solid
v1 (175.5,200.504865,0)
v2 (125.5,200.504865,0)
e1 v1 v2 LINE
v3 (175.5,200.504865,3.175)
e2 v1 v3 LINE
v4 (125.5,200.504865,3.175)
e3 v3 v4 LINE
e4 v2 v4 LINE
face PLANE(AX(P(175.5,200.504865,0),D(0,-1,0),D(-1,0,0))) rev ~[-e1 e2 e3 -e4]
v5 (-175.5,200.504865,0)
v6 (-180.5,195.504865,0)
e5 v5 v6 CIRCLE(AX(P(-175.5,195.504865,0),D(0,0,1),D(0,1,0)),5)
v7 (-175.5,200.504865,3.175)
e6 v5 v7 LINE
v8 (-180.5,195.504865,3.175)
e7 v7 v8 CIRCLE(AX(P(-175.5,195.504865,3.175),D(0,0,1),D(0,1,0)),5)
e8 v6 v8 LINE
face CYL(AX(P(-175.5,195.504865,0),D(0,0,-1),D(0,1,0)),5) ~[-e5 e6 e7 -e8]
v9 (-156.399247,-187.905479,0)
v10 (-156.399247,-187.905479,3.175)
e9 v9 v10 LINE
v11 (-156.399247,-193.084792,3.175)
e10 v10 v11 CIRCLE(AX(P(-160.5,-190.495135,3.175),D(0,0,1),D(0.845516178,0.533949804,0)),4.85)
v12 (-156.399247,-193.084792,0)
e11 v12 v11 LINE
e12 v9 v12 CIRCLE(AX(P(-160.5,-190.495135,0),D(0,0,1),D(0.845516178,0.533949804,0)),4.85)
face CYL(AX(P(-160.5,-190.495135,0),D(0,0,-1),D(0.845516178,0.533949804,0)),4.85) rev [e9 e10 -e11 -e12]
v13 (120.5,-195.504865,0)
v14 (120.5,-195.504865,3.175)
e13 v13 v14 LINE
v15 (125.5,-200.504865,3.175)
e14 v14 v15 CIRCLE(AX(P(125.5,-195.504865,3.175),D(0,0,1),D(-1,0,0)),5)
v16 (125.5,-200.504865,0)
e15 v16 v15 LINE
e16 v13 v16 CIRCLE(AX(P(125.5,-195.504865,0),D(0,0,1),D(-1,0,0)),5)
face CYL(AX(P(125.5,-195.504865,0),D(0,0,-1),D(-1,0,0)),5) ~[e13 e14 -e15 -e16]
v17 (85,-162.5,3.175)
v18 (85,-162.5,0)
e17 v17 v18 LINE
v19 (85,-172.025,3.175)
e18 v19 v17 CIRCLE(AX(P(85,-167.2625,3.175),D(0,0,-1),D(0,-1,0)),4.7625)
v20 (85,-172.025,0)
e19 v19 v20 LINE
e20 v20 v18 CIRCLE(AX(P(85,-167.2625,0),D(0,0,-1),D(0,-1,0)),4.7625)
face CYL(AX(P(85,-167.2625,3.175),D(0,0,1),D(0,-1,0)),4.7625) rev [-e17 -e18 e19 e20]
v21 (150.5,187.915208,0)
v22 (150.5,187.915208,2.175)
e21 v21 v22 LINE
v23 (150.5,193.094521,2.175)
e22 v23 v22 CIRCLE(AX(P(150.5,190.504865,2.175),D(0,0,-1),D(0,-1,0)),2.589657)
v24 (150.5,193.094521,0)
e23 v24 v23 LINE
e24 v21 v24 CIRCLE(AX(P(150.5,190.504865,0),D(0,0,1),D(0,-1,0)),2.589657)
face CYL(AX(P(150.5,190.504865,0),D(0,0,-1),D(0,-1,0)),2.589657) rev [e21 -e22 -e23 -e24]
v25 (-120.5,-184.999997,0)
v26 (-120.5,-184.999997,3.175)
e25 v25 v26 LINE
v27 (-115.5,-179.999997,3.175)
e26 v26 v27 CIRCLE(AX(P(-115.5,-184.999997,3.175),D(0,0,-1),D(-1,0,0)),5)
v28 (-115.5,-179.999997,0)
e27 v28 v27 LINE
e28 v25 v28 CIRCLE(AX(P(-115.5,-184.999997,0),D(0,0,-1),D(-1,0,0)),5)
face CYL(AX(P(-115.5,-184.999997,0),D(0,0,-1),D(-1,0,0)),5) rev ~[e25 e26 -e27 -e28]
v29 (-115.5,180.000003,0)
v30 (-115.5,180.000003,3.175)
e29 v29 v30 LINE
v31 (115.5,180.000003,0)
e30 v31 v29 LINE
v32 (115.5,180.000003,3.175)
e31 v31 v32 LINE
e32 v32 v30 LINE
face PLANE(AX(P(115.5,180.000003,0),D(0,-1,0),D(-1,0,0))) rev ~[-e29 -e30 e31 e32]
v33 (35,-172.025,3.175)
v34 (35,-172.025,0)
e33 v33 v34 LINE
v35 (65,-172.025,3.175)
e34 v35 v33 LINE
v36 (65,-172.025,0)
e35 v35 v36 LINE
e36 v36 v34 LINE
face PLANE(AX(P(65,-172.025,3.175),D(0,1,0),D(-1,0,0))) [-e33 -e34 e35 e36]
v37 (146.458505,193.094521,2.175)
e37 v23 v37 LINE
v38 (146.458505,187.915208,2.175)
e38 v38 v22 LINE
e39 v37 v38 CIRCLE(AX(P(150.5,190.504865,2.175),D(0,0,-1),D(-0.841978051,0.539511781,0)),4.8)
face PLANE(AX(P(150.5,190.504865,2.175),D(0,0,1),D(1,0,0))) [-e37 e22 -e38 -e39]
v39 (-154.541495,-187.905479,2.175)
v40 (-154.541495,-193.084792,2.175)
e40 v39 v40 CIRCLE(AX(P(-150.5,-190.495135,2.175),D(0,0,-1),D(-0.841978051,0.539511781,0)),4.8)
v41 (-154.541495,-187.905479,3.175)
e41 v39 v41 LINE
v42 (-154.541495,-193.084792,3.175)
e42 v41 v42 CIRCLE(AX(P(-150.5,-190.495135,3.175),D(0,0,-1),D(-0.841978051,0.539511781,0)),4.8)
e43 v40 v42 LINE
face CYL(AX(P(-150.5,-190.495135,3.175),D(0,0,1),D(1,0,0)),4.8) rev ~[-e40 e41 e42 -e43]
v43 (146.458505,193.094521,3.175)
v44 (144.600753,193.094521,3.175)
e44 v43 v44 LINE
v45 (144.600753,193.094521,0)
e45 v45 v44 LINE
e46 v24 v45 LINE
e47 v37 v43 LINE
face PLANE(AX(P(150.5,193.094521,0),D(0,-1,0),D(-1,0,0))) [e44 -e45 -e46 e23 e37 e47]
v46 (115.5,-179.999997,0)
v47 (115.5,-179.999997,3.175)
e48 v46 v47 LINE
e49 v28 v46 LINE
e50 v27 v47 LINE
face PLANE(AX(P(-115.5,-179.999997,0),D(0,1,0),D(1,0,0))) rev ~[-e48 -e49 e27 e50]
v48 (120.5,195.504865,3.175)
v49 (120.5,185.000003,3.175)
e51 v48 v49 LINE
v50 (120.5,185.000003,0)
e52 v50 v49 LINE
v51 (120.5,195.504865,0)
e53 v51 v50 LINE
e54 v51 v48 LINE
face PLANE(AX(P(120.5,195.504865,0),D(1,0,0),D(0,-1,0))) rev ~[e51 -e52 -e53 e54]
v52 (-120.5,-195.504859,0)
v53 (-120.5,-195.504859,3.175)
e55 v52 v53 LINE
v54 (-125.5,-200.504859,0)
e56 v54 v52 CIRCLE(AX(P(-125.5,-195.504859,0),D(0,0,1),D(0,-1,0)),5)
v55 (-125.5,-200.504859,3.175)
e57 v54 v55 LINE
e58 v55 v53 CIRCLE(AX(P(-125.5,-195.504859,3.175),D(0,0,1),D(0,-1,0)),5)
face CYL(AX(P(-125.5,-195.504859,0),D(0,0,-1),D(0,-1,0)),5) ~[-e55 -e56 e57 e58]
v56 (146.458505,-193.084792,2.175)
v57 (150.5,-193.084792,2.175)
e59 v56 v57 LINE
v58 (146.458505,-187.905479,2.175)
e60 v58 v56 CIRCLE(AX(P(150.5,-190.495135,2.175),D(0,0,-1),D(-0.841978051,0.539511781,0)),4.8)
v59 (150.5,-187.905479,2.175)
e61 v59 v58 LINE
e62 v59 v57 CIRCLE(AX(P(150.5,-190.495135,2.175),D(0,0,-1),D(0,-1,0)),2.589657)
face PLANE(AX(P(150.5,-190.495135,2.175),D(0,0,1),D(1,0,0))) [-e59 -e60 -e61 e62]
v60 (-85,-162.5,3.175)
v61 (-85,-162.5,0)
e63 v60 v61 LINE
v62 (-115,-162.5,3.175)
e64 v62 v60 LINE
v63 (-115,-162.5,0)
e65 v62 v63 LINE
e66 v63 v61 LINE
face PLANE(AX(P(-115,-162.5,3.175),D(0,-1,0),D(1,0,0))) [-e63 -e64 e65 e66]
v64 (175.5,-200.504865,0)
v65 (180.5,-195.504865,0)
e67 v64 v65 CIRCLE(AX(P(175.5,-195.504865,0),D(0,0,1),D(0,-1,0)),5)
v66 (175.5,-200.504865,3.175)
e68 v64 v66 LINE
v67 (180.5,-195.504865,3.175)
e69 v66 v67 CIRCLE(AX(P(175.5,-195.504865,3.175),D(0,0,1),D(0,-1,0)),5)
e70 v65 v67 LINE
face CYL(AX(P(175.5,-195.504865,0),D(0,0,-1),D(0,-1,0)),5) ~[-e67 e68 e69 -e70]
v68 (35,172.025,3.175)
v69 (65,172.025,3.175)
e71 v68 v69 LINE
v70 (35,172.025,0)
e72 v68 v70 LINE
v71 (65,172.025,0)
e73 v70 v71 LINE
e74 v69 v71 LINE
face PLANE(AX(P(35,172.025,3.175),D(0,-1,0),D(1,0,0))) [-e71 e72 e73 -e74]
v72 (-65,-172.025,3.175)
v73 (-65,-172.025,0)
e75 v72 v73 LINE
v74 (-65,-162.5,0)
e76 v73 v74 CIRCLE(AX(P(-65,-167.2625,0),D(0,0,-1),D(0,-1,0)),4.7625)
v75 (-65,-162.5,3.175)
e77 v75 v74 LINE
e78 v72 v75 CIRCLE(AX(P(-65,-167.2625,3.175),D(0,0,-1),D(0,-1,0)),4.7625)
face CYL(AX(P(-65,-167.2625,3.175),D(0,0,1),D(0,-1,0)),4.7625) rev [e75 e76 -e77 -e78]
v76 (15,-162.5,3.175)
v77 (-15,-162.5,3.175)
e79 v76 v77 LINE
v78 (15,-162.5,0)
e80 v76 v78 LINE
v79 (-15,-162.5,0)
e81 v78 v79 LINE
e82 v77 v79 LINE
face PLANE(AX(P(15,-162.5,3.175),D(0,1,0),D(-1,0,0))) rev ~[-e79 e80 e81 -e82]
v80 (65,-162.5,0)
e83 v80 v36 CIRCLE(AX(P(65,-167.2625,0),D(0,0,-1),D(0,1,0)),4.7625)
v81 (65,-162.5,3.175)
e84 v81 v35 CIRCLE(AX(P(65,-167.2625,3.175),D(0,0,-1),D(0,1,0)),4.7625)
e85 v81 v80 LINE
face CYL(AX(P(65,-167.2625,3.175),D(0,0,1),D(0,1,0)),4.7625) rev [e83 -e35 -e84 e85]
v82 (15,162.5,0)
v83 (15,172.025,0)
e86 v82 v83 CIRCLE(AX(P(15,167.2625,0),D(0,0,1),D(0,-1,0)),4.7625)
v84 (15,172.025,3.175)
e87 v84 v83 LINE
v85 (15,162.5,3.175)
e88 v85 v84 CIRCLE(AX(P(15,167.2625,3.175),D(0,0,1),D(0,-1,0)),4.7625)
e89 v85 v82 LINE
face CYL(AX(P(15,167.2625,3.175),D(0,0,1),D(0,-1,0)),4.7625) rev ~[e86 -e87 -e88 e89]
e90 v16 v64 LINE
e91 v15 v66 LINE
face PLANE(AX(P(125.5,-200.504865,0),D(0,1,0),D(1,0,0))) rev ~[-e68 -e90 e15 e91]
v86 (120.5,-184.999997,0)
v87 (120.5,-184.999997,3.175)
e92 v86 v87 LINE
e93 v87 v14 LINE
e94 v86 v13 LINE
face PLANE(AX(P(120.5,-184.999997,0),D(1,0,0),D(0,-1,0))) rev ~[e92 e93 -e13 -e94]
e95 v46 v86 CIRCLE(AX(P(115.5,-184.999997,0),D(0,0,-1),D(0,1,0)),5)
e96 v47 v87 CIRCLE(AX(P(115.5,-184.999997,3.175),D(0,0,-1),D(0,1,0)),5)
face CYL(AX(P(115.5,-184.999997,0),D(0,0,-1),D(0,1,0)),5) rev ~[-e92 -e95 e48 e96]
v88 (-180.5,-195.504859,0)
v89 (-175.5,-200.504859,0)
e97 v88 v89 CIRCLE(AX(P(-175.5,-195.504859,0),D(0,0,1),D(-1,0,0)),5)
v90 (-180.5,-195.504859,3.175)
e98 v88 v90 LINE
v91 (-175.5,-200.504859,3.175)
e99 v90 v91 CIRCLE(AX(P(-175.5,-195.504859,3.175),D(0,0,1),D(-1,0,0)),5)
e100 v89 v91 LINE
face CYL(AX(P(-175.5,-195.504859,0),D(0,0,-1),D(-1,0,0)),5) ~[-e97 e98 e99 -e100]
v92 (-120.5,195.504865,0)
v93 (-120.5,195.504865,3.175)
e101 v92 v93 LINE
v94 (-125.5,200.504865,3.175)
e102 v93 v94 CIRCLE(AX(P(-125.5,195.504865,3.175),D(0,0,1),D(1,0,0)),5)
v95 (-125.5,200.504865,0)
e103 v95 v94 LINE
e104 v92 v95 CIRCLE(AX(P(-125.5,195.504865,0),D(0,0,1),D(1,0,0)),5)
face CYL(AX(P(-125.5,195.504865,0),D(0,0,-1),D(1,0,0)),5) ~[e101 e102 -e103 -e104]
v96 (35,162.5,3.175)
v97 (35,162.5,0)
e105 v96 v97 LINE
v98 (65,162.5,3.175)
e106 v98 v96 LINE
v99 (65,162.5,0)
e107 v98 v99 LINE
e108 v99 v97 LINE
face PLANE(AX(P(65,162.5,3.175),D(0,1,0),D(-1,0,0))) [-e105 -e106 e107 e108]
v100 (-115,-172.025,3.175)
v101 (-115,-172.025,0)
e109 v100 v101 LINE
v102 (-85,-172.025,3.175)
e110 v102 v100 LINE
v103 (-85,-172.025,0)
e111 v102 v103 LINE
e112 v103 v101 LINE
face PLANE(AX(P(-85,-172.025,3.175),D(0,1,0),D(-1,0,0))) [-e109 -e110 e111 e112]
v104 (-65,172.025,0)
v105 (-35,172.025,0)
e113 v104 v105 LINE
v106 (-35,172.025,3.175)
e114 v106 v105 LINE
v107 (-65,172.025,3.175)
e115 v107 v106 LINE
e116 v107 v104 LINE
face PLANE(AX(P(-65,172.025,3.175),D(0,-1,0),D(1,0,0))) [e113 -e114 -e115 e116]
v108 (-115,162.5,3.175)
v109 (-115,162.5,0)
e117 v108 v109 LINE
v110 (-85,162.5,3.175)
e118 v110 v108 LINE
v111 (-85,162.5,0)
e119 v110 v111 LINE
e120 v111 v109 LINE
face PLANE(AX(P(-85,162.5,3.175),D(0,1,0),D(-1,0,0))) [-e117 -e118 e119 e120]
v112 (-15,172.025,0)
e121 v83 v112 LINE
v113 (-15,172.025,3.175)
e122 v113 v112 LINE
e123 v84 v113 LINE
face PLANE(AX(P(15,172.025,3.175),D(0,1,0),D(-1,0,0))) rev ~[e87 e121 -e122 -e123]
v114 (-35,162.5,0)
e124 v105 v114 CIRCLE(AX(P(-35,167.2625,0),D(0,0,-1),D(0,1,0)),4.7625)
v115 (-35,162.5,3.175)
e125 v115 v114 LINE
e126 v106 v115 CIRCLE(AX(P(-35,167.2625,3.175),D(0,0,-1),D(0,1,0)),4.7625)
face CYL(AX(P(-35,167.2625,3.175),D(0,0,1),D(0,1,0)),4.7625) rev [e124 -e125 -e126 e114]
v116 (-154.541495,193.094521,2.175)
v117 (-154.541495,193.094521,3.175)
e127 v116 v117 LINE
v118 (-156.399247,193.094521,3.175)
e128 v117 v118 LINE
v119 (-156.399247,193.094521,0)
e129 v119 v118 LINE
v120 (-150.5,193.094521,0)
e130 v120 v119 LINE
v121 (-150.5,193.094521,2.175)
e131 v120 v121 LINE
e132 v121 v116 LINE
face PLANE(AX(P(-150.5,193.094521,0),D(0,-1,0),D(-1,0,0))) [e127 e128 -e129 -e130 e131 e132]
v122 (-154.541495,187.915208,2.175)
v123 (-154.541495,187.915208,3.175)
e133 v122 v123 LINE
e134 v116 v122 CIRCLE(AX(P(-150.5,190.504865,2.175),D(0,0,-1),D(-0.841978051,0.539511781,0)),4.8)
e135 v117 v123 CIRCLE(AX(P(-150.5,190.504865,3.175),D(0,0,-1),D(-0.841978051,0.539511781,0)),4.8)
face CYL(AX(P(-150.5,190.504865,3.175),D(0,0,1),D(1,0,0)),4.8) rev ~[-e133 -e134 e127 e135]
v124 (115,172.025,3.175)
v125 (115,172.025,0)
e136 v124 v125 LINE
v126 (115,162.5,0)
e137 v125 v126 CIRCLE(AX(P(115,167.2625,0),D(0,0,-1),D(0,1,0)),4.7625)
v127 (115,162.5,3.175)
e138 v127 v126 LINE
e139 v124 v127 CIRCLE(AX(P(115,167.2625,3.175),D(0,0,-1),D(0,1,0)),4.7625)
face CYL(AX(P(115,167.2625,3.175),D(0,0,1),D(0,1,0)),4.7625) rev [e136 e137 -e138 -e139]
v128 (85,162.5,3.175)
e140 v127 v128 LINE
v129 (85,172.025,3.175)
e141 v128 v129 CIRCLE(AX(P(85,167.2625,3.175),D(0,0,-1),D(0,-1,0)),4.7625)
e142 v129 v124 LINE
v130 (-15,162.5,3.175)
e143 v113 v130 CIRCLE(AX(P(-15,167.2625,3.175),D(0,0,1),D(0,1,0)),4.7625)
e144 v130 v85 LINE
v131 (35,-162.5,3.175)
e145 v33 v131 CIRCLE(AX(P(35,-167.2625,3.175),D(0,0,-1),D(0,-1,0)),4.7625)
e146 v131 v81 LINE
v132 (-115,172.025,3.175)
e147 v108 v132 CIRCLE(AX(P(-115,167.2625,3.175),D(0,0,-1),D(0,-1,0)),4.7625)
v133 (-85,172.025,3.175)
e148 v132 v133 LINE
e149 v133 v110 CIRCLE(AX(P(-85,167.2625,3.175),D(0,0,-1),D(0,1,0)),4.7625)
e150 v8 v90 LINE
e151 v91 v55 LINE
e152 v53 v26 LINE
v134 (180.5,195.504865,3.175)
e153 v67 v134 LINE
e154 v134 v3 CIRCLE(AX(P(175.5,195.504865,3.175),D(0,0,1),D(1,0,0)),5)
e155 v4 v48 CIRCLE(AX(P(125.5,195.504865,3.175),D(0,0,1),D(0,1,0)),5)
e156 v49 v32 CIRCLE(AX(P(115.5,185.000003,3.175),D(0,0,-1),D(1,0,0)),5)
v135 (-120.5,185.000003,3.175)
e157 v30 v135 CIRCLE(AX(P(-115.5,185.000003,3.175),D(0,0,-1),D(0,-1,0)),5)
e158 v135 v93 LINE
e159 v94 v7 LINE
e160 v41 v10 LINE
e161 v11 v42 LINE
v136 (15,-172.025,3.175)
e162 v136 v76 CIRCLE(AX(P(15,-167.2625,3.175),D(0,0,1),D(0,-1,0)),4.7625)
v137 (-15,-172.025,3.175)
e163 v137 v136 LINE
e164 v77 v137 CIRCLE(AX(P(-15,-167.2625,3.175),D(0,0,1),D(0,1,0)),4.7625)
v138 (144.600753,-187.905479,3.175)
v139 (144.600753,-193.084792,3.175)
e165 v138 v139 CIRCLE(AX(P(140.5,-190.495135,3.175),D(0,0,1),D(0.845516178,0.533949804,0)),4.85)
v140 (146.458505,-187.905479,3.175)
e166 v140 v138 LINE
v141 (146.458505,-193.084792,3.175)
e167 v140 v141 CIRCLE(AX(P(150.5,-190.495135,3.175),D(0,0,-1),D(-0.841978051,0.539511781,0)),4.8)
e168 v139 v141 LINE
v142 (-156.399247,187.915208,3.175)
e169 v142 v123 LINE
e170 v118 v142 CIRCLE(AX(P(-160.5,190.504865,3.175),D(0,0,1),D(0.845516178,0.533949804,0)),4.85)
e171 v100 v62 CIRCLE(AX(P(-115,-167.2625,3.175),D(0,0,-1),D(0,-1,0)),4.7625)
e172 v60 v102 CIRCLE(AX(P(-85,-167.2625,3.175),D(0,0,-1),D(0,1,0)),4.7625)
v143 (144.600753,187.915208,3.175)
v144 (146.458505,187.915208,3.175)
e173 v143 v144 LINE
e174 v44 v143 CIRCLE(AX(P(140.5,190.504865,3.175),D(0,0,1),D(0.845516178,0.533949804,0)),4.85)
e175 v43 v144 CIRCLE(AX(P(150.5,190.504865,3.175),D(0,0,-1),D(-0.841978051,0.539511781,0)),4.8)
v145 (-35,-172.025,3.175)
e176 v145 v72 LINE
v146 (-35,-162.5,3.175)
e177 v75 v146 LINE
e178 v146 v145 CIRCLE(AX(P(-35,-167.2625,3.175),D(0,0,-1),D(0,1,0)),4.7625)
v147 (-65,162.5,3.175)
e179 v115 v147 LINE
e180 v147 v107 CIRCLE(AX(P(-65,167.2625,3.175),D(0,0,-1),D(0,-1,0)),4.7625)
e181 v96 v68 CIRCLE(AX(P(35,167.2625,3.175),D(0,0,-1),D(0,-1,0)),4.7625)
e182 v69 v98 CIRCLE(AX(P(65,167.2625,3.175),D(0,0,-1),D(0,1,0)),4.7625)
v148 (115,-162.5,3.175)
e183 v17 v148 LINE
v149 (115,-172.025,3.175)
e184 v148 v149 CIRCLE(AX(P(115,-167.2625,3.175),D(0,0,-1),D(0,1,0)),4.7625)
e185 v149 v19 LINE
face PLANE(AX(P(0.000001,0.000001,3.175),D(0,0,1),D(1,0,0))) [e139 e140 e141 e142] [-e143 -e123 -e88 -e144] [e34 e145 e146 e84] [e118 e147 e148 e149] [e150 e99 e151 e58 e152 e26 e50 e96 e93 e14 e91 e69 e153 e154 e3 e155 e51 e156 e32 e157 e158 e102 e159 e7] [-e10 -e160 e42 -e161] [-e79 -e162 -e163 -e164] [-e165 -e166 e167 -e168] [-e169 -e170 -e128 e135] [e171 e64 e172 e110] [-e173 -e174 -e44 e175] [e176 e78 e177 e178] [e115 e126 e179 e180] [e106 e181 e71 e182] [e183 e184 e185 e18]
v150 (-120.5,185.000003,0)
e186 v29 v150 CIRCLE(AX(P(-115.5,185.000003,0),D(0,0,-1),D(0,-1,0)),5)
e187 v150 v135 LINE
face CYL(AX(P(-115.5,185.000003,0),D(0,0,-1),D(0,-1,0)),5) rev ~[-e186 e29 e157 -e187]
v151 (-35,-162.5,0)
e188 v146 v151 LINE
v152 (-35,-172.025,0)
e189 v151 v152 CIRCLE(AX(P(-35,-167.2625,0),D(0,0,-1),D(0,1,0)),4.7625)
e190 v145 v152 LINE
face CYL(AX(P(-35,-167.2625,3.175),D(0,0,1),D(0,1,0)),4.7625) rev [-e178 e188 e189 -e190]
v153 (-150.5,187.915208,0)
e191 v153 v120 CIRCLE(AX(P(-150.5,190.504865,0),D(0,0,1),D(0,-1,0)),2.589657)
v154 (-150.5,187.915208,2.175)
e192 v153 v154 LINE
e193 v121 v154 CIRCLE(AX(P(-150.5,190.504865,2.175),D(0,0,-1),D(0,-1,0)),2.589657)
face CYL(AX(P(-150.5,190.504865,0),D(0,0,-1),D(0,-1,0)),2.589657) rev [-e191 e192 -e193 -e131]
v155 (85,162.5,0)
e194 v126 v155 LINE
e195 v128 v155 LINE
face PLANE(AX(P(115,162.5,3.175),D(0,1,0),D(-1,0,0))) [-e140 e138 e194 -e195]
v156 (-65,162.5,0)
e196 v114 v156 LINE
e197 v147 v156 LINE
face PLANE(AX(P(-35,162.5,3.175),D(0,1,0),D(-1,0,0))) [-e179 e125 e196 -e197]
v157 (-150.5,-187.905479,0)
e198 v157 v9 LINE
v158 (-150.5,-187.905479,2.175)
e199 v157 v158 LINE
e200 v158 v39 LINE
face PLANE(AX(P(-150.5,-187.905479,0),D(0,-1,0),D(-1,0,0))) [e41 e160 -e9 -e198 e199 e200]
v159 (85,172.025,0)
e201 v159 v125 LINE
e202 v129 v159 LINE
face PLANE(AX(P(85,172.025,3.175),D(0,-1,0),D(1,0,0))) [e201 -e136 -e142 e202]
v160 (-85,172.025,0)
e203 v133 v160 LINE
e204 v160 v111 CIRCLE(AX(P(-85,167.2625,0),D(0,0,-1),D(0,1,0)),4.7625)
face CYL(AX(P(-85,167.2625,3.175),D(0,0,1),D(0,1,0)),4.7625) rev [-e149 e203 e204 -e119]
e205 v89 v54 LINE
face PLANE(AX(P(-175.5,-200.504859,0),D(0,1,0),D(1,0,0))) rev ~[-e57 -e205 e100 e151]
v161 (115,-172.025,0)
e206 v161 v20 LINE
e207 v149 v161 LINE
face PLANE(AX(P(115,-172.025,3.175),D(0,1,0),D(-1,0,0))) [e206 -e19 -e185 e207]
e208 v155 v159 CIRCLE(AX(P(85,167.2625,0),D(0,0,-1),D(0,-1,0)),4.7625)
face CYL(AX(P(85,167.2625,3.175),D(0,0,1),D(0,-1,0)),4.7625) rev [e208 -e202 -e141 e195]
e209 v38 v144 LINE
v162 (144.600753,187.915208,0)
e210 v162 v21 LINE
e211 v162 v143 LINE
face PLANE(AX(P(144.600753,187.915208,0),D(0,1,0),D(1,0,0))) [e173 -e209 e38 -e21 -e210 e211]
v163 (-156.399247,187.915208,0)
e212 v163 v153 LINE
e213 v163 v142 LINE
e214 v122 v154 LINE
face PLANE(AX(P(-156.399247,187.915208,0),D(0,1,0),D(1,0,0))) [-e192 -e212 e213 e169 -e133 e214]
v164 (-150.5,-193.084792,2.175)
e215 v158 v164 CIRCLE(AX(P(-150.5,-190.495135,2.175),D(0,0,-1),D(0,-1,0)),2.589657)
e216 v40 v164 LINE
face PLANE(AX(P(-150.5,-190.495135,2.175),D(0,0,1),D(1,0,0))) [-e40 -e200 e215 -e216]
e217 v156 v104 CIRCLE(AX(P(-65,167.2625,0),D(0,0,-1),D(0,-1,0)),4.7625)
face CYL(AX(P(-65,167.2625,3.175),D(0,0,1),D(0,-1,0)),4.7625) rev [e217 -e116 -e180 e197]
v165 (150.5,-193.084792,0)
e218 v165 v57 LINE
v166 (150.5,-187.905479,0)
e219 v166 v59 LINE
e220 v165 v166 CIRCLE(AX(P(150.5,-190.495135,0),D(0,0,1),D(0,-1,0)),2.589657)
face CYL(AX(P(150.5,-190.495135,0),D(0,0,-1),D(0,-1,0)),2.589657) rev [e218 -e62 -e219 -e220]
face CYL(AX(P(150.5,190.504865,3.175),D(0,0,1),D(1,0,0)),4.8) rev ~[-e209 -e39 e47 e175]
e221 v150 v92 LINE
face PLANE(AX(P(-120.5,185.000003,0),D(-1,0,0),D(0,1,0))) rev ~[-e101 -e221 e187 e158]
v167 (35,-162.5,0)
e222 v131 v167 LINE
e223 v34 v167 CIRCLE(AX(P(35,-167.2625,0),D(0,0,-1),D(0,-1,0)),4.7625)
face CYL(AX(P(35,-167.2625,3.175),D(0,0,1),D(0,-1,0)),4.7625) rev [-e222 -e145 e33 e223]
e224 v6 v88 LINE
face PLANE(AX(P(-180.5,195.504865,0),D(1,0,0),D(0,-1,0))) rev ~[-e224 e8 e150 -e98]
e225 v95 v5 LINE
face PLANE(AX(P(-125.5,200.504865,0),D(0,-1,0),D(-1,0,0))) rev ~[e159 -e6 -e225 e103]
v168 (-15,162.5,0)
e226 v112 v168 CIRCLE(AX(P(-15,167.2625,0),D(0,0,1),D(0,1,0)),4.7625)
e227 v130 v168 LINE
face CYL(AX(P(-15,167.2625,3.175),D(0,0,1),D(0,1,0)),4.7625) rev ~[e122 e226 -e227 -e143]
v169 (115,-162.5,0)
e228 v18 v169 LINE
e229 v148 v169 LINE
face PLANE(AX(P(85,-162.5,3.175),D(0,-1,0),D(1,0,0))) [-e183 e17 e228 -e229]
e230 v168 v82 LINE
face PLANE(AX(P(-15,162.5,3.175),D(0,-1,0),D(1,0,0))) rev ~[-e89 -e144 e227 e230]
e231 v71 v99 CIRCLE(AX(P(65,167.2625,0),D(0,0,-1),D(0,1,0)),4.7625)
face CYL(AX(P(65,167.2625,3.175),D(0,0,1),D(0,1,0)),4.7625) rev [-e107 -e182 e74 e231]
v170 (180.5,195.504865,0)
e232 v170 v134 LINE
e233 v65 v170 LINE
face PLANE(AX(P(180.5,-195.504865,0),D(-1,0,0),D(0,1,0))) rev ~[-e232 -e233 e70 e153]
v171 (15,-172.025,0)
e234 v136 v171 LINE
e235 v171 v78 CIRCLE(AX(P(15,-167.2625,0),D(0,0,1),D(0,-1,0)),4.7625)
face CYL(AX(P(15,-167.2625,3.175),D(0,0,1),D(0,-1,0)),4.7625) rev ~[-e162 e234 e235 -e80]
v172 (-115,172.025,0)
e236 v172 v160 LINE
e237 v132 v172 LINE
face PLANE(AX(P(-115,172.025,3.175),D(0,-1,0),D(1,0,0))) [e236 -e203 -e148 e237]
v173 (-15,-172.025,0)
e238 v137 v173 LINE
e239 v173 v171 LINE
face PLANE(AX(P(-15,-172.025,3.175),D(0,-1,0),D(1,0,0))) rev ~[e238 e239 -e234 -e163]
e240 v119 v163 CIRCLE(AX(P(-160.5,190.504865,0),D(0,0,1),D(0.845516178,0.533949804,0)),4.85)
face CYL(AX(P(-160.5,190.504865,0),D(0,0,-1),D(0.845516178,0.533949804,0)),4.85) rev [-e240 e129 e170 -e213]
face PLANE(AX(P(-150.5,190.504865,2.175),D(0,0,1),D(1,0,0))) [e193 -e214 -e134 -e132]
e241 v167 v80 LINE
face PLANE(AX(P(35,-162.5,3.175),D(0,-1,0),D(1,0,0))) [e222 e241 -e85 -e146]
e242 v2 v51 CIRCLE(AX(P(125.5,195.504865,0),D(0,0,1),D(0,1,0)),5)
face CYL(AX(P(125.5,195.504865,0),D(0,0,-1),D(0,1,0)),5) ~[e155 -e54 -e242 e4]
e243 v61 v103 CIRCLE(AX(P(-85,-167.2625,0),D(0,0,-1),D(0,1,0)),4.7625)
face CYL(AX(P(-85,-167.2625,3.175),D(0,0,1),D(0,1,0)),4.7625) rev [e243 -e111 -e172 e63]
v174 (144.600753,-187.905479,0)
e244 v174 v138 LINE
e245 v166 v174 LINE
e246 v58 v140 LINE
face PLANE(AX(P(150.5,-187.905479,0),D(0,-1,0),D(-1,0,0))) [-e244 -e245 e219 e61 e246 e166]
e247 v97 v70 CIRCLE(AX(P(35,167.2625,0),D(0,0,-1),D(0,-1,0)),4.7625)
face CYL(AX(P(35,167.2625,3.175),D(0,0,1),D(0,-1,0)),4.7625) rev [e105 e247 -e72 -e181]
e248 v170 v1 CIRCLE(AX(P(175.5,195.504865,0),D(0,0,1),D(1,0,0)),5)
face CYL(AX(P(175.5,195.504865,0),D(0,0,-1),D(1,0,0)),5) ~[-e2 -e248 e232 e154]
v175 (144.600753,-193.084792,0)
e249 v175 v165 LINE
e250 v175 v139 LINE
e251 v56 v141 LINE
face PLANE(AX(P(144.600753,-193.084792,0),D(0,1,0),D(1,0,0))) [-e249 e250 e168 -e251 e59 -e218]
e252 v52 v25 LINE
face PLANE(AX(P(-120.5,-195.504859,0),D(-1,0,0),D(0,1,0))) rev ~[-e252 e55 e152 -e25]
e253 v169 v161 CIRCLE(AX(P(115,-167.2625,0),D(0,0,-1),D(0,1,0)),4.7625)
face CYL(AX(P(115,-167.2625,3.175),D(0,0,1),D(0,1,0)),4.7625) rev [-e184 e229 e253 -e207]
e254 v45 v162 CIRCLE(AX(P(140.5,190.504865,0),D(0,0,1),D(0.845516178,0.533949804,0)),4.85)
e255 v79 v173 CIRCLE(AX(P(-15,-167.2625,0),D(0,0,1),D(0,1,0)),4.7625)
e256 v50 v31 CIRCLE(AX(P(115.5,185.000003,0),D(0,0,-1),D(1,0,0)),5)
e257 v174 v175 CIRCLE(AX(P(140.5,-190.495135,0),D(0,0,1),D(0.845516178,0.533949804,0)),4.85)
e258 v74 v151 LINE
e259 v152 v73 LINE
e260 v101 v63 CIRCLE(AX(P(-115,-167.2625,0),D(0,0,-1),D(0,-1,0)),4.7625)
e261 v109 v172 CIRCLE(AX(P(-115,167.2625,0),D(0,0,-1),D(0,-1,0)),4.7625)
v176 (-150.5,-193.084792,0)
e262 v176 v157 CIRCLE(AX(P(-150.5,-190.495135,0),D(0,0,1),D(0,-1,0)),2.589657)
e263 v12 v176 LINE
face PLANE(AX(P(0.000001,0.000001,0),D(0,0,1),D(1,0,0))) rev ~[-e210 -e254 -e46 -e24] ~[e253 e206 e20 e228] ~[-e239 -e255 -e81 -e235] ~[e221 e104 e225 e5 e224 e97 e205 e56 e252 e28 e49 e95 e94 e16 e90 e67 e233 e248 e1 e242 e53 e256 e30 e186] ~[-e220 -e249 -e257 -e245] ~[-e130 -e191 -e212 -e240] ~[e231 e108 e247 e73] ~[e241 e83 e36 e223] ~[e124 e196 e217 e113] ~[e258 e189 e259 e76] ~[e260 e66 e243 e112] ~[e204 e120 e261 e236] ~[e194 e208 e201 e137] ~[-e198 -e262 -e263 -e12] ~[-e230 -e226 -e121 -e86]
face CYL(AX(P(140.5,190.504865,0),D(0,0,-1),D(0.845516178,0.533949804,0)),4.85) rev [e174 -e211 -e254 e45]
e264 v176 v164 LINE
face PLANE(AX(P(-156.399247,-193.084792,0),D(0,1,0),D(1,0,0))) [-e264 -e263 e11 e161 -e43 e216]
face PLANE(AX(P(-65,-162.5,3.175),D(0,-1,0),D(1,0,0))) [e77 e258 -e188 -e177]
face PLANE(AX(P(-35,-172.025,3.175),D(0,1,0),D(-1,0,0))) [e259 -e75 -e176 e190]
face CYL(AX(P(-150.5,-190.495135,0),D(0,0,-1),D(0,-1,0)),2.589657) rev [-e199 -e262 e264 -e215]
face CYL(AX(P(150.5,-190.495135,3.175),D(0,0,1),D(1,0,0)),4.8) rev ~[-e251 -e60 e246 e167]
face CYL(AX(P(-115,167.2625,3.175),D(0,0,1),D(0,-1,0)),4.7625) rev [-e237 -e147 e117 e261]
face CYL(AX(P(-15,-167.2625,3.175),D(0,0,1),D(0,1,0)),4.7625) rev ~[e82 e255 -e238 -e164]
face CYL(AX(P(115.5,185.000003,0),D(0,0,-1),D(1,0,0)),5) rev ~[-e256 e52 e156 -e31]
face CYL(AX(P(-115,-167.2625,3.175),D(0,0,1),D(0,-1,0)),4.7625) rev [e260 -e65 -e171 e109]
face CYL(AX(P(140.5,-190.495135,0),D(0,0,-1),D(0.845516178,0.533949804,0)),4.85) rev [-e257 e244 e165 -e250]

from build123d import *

# Parameters (mm, degrees)
BOSS_EXTRUDE1_DEPTH = 3.175
SKETCH2_R           = 4.8
CUT_EXTRUDE1_DEPTH  = 1
CUT_EXTRUDE2_DEPTH  = 3.175


with BuildPart() as part:
    # Model → Boss-Extrude1 (new body)
    with BuildSketch(Plane.XY):
        with BuildLine():
            Line((175.500000042, 200.504864864), (125.500000042, 200.504864864))
            ThreePointArc((125.500000042, 200.504864864), (121.964466136, 199.04039877), (120.500000042, 195.504864864))
            Line((120.500000042, 195.504864864), (120.500000042, 185.00000269))
            ThreePointArc((120.500000042, 185.00000269), (119.035533948, 181.464468784), (115.500000042, 180.00000269))
            Line((115.500000042, 180.00000269), (-115.500000042, 180.00000269))
            ThreePointArc((-115.500000042, 180.00000269), (-119.035533948, 181.464468784), (-120.500000042, 185.00000269))
            Line((-120.500000042, 185.00000269), (-120.500000042, 195.504864864))
            ThreePointArc((-120.500000042, 195.504864864), (-121.964466136, 199.04039877), (-125.500000042, 200.504864864))
            Line((-125.500000042, 200.504864864), (-175.500000042, 200.504864864))
            ThreePointArc((-175.500000042, 200.504864864), (-179.035533948, 199.04039877), (-180.500000042, 195.504864864))
            Line((-180.500000042, 195.504864864), (-180.500000042, -195.504859484))
            ThreePointArc((-180.500000042, -195.504859484), (-179.035533948, -199.04039339), (-175.500000042, -200.504859484))
            Line((-175.500000042, -200.504859484), (-125.500000042, -200.504859484))
            ThreePointArc((-125.500000042, -200.504859484), (-121.964466136, -199.04039339), (-120.500000042, -195.504859484))
            Line((-120.500000042, -195.504859484), (-120.500000042, -184.99999731))
            ThreePointArc((-120.500000042, -184.99999731), (-119.035533948, -181.464463404), (-115.500000042, -179.99999731))
            Line((-115.500000042, -179.99999731), (115.500000042, -179.99999731))
            ThreePointArc((115.500000042, -179.99999731), (119.035533948, -181.464463404), (120.500000042, -184.99999731))
            Line((120.500000042, -184.99999731), (120.500000042, -195.504864864))
            ThreePointArc((120.500000042, -195.504864864), (121.964466136, -199.04039877), (125.500000042, -200.504864864))
            Line((125.500000042, -200.504864864), (175.500000042, -200.504864864))
            ThreePointArc((175.500000042, -200.504864864), (179.035533948, -199.04039877), (180.500000042, -195.504864864))
            Line((180.500000042, -195.504864864), (180.500000042, 195.504864864))
            ThreePointArc((180.500000042, 195.504864864), (179.035533948, 199.04039877), (175.500000042, 200.504864864))
        make_face()
        with BuildLine():
            Line((144.600753463, 187.915208316), (150.5, 187.915208316))
            ThreePointArc((150.5, 187.915208316), (153.089656548, 190.504864864), (150.5, 193.094521412))
            Line((150.5, 193.094521412), (144.600753463, 193.094521412))
            ThreePointArc((144.600753463, 193.094521412), (135.65, 190.504864864), (144.600753463, 187.915208316))
        make_face(mode=Mode.SUBTRACT)
        with BuildLine():
            Line((150.5, -187.905478588), (144.600753463, -187.905478588))
            ThreePointArc((144.600753463, -187.905478588), (135.65, -190.495135136), (144.600753463, -193.084791684))
            Line((144.600753463, -193.084791684), (150.5, -193.084791684))
            ThreePointArc((150.5, -193.084791684), (153.089656548, -190.495135136), (150.5, -187.905478588))
        make_face(mode=Mode.SUBTRACT)
        with BuildLine():
            Line((-150.5, -187.905478588), (-156.399246537, -187.905478588))
            ThreePointArc((-156.399246537, -187.905478588), (-165.35, -190.495135136), (-156.399246537, -193.084791684))
            Line((-156.399246537, -193.084791684), (-150.5, -193.084791684))
            ThreePointArc((-150.5, -193.084791684), (-147.910343452, -190.495135136), (-150.5, -187.905478588))
        make_face(mode=Mode.SUBTRACT)
        with BuildLine():
            Line((-150.5, 193.094521412), (-156.399246537, 193.094521412))
            ThreePointArc((-156.399246537, 193.094521412), (-165.35, 190.504864864), (-156.399246537, 187.915208316))
            Line((-156.399246537, 187.915208316), (-150.5, 187.915208316))
            ThreePointArc((-150.5, 187.915208316), (-147.910343452, 190.504864864), (-150.5, 193.094521412))
        make_face(mode=Mode.SUBTRACT)
    extrude(amount=BOSS_EXTRUDE1_DEPTH)

    # Sketch2 → Cut-Extrude1 (cut)
    with BuildSketch(Plane.XY.offset(3.175)):
        with Locations((-150.5, 190.504864864)):
            Circle(SKETCH2_R)
        with Locations((150.5, 190.504864864)):
            Circle(SKETCH2_R)
        with Locations((150.5, -190.495135136)):
            Circle(SKETCH2_R)
        with Locations((-150.5, -190.495135136)):
            Circle(SKETCH2_R)
    extrude(amount=-CUT_EXTRUDE1_DEPTH, mode=Mode.SUBTRACT)

    # Sketch3 → Cut-Extrude2 (cut)
    with BuildSketch(Plane.XY.offset(3.175)):
        with BuildLine():
            Line((-15, 162.5), (15, 162.5))
            ThreePointArc((15, 162.5), (19.7625, 167.2625), (15, 172.025))
            Line((15, 172.025), (-15, 172.025))
            ThreePointArc((-15, 172.025), (-19.7625, 167.2625), (-15, 162.5))
        make_face()
        with BuildLine():
            Line((35, 172.025), (65, 172.025))
            ThreePointArc((65, 172.025), (69.7625, 167.2625), (65, 162.5))
            Line((65, 162.5), (35, 162.5))
            ThreePointArc((35, 162.5), (30.2375, 167.2625), (35, 172.025))
        make_face()
        with BuildLine():
            Line((85, 172.025), (115, 172.025))
            ThreePointArc((115, 172.025), (119.7625, 167.2625), (115, 162.5))
            Line((115, 162.5), (85, 162.5))
            ThreePointArc((85, 162.5), (80.2375, 167.2625), (85, 172.025))
        make_face()
        with BuildLine():
            Line((-65, 172.025), (-35, 172.025))
            ThreePointArc((-35, 172.025), (-30.2375, 167.2625), (-35, 162.5))
            Line((-35, 162.5), (-65, 162.5))
            ThreePointArc((-65, 162.5), (-69.7625, 167.2625), (-65, 172.025))
        make_face()
        with BuildLine():
            Line((-115, 172.025), (-85, 172.025))
            ThreePointArc((-85, 172.025), (-80.2375, 167.2625), (-85, 162.5))
            Line((-85, 162.5), (-115, 162.5))
            ThreePointArc((-115, 162.5), (-119.7625, 167.2625), (-115, 172.025))
        make_face()
        with BuildLine():
            Line((-115, -162.5), (-85, -162.5))
            ThreePointArc((-85, -162.5), (-80.2375, -167.2625), (-85, -172.025))
            Line((-85, -172.025), (-115, -172.025))
            ThreePointArc((-115, -172.025), (-119.7625, -167.2625), (-115, -162.5))
        make_face()
        with BuildLine():
            Line((-65, -162.5), (-35, -162.5))
            ThreePointArc((-35, -162.5), (-30.2375, -167.2625), (-35, -172.025))
            Line((-35, -172.025), (-65, -172.025))
            ThreePointArc((-65, -172.025), (-69.7625, -167.2625), (-65, -162.5))
        make_face()
        with BuildLine():
            Line((85, -162.5), (115, -162.5))
            ThreePointArc((115, -162.5), (119.7625, -167.2625), (115, -172.025))
            Line((115, -172.025), (85, -172.025))
            ThreePointArc((85, -172.025), (80.2375, -167.2625), (85, -162.5))
        make_face()
        with BuildLine():
            Line((35, -162.5), (65, -162.5))
            ThreePointArc((65, -162.5), (69.7625, -167.2625), (65, -172.025))
            Line((65, -172.025), (35, -172.025))
            ThreePointArc((35, -172.025), (30.2375, -167.2625), (35, -162.5))
        make_face()
        with BuildLine():
            Line((-15, -172.025), (15, -172.025))
            ThreePointArc((15, -172.025), (19.7625, -167.2625), (15, -162.5))
            Line((15, -162.5), (-15, -162.5))
            ThreePointArc((-15, -162.5), (-19.7625, -167.2625), (-15, -172.025))
        make_face()
    extrude(amount=-CUT_EXTRUDE2_DEPTH, mode=Mode.SUBTRACT)


solid = part.part
